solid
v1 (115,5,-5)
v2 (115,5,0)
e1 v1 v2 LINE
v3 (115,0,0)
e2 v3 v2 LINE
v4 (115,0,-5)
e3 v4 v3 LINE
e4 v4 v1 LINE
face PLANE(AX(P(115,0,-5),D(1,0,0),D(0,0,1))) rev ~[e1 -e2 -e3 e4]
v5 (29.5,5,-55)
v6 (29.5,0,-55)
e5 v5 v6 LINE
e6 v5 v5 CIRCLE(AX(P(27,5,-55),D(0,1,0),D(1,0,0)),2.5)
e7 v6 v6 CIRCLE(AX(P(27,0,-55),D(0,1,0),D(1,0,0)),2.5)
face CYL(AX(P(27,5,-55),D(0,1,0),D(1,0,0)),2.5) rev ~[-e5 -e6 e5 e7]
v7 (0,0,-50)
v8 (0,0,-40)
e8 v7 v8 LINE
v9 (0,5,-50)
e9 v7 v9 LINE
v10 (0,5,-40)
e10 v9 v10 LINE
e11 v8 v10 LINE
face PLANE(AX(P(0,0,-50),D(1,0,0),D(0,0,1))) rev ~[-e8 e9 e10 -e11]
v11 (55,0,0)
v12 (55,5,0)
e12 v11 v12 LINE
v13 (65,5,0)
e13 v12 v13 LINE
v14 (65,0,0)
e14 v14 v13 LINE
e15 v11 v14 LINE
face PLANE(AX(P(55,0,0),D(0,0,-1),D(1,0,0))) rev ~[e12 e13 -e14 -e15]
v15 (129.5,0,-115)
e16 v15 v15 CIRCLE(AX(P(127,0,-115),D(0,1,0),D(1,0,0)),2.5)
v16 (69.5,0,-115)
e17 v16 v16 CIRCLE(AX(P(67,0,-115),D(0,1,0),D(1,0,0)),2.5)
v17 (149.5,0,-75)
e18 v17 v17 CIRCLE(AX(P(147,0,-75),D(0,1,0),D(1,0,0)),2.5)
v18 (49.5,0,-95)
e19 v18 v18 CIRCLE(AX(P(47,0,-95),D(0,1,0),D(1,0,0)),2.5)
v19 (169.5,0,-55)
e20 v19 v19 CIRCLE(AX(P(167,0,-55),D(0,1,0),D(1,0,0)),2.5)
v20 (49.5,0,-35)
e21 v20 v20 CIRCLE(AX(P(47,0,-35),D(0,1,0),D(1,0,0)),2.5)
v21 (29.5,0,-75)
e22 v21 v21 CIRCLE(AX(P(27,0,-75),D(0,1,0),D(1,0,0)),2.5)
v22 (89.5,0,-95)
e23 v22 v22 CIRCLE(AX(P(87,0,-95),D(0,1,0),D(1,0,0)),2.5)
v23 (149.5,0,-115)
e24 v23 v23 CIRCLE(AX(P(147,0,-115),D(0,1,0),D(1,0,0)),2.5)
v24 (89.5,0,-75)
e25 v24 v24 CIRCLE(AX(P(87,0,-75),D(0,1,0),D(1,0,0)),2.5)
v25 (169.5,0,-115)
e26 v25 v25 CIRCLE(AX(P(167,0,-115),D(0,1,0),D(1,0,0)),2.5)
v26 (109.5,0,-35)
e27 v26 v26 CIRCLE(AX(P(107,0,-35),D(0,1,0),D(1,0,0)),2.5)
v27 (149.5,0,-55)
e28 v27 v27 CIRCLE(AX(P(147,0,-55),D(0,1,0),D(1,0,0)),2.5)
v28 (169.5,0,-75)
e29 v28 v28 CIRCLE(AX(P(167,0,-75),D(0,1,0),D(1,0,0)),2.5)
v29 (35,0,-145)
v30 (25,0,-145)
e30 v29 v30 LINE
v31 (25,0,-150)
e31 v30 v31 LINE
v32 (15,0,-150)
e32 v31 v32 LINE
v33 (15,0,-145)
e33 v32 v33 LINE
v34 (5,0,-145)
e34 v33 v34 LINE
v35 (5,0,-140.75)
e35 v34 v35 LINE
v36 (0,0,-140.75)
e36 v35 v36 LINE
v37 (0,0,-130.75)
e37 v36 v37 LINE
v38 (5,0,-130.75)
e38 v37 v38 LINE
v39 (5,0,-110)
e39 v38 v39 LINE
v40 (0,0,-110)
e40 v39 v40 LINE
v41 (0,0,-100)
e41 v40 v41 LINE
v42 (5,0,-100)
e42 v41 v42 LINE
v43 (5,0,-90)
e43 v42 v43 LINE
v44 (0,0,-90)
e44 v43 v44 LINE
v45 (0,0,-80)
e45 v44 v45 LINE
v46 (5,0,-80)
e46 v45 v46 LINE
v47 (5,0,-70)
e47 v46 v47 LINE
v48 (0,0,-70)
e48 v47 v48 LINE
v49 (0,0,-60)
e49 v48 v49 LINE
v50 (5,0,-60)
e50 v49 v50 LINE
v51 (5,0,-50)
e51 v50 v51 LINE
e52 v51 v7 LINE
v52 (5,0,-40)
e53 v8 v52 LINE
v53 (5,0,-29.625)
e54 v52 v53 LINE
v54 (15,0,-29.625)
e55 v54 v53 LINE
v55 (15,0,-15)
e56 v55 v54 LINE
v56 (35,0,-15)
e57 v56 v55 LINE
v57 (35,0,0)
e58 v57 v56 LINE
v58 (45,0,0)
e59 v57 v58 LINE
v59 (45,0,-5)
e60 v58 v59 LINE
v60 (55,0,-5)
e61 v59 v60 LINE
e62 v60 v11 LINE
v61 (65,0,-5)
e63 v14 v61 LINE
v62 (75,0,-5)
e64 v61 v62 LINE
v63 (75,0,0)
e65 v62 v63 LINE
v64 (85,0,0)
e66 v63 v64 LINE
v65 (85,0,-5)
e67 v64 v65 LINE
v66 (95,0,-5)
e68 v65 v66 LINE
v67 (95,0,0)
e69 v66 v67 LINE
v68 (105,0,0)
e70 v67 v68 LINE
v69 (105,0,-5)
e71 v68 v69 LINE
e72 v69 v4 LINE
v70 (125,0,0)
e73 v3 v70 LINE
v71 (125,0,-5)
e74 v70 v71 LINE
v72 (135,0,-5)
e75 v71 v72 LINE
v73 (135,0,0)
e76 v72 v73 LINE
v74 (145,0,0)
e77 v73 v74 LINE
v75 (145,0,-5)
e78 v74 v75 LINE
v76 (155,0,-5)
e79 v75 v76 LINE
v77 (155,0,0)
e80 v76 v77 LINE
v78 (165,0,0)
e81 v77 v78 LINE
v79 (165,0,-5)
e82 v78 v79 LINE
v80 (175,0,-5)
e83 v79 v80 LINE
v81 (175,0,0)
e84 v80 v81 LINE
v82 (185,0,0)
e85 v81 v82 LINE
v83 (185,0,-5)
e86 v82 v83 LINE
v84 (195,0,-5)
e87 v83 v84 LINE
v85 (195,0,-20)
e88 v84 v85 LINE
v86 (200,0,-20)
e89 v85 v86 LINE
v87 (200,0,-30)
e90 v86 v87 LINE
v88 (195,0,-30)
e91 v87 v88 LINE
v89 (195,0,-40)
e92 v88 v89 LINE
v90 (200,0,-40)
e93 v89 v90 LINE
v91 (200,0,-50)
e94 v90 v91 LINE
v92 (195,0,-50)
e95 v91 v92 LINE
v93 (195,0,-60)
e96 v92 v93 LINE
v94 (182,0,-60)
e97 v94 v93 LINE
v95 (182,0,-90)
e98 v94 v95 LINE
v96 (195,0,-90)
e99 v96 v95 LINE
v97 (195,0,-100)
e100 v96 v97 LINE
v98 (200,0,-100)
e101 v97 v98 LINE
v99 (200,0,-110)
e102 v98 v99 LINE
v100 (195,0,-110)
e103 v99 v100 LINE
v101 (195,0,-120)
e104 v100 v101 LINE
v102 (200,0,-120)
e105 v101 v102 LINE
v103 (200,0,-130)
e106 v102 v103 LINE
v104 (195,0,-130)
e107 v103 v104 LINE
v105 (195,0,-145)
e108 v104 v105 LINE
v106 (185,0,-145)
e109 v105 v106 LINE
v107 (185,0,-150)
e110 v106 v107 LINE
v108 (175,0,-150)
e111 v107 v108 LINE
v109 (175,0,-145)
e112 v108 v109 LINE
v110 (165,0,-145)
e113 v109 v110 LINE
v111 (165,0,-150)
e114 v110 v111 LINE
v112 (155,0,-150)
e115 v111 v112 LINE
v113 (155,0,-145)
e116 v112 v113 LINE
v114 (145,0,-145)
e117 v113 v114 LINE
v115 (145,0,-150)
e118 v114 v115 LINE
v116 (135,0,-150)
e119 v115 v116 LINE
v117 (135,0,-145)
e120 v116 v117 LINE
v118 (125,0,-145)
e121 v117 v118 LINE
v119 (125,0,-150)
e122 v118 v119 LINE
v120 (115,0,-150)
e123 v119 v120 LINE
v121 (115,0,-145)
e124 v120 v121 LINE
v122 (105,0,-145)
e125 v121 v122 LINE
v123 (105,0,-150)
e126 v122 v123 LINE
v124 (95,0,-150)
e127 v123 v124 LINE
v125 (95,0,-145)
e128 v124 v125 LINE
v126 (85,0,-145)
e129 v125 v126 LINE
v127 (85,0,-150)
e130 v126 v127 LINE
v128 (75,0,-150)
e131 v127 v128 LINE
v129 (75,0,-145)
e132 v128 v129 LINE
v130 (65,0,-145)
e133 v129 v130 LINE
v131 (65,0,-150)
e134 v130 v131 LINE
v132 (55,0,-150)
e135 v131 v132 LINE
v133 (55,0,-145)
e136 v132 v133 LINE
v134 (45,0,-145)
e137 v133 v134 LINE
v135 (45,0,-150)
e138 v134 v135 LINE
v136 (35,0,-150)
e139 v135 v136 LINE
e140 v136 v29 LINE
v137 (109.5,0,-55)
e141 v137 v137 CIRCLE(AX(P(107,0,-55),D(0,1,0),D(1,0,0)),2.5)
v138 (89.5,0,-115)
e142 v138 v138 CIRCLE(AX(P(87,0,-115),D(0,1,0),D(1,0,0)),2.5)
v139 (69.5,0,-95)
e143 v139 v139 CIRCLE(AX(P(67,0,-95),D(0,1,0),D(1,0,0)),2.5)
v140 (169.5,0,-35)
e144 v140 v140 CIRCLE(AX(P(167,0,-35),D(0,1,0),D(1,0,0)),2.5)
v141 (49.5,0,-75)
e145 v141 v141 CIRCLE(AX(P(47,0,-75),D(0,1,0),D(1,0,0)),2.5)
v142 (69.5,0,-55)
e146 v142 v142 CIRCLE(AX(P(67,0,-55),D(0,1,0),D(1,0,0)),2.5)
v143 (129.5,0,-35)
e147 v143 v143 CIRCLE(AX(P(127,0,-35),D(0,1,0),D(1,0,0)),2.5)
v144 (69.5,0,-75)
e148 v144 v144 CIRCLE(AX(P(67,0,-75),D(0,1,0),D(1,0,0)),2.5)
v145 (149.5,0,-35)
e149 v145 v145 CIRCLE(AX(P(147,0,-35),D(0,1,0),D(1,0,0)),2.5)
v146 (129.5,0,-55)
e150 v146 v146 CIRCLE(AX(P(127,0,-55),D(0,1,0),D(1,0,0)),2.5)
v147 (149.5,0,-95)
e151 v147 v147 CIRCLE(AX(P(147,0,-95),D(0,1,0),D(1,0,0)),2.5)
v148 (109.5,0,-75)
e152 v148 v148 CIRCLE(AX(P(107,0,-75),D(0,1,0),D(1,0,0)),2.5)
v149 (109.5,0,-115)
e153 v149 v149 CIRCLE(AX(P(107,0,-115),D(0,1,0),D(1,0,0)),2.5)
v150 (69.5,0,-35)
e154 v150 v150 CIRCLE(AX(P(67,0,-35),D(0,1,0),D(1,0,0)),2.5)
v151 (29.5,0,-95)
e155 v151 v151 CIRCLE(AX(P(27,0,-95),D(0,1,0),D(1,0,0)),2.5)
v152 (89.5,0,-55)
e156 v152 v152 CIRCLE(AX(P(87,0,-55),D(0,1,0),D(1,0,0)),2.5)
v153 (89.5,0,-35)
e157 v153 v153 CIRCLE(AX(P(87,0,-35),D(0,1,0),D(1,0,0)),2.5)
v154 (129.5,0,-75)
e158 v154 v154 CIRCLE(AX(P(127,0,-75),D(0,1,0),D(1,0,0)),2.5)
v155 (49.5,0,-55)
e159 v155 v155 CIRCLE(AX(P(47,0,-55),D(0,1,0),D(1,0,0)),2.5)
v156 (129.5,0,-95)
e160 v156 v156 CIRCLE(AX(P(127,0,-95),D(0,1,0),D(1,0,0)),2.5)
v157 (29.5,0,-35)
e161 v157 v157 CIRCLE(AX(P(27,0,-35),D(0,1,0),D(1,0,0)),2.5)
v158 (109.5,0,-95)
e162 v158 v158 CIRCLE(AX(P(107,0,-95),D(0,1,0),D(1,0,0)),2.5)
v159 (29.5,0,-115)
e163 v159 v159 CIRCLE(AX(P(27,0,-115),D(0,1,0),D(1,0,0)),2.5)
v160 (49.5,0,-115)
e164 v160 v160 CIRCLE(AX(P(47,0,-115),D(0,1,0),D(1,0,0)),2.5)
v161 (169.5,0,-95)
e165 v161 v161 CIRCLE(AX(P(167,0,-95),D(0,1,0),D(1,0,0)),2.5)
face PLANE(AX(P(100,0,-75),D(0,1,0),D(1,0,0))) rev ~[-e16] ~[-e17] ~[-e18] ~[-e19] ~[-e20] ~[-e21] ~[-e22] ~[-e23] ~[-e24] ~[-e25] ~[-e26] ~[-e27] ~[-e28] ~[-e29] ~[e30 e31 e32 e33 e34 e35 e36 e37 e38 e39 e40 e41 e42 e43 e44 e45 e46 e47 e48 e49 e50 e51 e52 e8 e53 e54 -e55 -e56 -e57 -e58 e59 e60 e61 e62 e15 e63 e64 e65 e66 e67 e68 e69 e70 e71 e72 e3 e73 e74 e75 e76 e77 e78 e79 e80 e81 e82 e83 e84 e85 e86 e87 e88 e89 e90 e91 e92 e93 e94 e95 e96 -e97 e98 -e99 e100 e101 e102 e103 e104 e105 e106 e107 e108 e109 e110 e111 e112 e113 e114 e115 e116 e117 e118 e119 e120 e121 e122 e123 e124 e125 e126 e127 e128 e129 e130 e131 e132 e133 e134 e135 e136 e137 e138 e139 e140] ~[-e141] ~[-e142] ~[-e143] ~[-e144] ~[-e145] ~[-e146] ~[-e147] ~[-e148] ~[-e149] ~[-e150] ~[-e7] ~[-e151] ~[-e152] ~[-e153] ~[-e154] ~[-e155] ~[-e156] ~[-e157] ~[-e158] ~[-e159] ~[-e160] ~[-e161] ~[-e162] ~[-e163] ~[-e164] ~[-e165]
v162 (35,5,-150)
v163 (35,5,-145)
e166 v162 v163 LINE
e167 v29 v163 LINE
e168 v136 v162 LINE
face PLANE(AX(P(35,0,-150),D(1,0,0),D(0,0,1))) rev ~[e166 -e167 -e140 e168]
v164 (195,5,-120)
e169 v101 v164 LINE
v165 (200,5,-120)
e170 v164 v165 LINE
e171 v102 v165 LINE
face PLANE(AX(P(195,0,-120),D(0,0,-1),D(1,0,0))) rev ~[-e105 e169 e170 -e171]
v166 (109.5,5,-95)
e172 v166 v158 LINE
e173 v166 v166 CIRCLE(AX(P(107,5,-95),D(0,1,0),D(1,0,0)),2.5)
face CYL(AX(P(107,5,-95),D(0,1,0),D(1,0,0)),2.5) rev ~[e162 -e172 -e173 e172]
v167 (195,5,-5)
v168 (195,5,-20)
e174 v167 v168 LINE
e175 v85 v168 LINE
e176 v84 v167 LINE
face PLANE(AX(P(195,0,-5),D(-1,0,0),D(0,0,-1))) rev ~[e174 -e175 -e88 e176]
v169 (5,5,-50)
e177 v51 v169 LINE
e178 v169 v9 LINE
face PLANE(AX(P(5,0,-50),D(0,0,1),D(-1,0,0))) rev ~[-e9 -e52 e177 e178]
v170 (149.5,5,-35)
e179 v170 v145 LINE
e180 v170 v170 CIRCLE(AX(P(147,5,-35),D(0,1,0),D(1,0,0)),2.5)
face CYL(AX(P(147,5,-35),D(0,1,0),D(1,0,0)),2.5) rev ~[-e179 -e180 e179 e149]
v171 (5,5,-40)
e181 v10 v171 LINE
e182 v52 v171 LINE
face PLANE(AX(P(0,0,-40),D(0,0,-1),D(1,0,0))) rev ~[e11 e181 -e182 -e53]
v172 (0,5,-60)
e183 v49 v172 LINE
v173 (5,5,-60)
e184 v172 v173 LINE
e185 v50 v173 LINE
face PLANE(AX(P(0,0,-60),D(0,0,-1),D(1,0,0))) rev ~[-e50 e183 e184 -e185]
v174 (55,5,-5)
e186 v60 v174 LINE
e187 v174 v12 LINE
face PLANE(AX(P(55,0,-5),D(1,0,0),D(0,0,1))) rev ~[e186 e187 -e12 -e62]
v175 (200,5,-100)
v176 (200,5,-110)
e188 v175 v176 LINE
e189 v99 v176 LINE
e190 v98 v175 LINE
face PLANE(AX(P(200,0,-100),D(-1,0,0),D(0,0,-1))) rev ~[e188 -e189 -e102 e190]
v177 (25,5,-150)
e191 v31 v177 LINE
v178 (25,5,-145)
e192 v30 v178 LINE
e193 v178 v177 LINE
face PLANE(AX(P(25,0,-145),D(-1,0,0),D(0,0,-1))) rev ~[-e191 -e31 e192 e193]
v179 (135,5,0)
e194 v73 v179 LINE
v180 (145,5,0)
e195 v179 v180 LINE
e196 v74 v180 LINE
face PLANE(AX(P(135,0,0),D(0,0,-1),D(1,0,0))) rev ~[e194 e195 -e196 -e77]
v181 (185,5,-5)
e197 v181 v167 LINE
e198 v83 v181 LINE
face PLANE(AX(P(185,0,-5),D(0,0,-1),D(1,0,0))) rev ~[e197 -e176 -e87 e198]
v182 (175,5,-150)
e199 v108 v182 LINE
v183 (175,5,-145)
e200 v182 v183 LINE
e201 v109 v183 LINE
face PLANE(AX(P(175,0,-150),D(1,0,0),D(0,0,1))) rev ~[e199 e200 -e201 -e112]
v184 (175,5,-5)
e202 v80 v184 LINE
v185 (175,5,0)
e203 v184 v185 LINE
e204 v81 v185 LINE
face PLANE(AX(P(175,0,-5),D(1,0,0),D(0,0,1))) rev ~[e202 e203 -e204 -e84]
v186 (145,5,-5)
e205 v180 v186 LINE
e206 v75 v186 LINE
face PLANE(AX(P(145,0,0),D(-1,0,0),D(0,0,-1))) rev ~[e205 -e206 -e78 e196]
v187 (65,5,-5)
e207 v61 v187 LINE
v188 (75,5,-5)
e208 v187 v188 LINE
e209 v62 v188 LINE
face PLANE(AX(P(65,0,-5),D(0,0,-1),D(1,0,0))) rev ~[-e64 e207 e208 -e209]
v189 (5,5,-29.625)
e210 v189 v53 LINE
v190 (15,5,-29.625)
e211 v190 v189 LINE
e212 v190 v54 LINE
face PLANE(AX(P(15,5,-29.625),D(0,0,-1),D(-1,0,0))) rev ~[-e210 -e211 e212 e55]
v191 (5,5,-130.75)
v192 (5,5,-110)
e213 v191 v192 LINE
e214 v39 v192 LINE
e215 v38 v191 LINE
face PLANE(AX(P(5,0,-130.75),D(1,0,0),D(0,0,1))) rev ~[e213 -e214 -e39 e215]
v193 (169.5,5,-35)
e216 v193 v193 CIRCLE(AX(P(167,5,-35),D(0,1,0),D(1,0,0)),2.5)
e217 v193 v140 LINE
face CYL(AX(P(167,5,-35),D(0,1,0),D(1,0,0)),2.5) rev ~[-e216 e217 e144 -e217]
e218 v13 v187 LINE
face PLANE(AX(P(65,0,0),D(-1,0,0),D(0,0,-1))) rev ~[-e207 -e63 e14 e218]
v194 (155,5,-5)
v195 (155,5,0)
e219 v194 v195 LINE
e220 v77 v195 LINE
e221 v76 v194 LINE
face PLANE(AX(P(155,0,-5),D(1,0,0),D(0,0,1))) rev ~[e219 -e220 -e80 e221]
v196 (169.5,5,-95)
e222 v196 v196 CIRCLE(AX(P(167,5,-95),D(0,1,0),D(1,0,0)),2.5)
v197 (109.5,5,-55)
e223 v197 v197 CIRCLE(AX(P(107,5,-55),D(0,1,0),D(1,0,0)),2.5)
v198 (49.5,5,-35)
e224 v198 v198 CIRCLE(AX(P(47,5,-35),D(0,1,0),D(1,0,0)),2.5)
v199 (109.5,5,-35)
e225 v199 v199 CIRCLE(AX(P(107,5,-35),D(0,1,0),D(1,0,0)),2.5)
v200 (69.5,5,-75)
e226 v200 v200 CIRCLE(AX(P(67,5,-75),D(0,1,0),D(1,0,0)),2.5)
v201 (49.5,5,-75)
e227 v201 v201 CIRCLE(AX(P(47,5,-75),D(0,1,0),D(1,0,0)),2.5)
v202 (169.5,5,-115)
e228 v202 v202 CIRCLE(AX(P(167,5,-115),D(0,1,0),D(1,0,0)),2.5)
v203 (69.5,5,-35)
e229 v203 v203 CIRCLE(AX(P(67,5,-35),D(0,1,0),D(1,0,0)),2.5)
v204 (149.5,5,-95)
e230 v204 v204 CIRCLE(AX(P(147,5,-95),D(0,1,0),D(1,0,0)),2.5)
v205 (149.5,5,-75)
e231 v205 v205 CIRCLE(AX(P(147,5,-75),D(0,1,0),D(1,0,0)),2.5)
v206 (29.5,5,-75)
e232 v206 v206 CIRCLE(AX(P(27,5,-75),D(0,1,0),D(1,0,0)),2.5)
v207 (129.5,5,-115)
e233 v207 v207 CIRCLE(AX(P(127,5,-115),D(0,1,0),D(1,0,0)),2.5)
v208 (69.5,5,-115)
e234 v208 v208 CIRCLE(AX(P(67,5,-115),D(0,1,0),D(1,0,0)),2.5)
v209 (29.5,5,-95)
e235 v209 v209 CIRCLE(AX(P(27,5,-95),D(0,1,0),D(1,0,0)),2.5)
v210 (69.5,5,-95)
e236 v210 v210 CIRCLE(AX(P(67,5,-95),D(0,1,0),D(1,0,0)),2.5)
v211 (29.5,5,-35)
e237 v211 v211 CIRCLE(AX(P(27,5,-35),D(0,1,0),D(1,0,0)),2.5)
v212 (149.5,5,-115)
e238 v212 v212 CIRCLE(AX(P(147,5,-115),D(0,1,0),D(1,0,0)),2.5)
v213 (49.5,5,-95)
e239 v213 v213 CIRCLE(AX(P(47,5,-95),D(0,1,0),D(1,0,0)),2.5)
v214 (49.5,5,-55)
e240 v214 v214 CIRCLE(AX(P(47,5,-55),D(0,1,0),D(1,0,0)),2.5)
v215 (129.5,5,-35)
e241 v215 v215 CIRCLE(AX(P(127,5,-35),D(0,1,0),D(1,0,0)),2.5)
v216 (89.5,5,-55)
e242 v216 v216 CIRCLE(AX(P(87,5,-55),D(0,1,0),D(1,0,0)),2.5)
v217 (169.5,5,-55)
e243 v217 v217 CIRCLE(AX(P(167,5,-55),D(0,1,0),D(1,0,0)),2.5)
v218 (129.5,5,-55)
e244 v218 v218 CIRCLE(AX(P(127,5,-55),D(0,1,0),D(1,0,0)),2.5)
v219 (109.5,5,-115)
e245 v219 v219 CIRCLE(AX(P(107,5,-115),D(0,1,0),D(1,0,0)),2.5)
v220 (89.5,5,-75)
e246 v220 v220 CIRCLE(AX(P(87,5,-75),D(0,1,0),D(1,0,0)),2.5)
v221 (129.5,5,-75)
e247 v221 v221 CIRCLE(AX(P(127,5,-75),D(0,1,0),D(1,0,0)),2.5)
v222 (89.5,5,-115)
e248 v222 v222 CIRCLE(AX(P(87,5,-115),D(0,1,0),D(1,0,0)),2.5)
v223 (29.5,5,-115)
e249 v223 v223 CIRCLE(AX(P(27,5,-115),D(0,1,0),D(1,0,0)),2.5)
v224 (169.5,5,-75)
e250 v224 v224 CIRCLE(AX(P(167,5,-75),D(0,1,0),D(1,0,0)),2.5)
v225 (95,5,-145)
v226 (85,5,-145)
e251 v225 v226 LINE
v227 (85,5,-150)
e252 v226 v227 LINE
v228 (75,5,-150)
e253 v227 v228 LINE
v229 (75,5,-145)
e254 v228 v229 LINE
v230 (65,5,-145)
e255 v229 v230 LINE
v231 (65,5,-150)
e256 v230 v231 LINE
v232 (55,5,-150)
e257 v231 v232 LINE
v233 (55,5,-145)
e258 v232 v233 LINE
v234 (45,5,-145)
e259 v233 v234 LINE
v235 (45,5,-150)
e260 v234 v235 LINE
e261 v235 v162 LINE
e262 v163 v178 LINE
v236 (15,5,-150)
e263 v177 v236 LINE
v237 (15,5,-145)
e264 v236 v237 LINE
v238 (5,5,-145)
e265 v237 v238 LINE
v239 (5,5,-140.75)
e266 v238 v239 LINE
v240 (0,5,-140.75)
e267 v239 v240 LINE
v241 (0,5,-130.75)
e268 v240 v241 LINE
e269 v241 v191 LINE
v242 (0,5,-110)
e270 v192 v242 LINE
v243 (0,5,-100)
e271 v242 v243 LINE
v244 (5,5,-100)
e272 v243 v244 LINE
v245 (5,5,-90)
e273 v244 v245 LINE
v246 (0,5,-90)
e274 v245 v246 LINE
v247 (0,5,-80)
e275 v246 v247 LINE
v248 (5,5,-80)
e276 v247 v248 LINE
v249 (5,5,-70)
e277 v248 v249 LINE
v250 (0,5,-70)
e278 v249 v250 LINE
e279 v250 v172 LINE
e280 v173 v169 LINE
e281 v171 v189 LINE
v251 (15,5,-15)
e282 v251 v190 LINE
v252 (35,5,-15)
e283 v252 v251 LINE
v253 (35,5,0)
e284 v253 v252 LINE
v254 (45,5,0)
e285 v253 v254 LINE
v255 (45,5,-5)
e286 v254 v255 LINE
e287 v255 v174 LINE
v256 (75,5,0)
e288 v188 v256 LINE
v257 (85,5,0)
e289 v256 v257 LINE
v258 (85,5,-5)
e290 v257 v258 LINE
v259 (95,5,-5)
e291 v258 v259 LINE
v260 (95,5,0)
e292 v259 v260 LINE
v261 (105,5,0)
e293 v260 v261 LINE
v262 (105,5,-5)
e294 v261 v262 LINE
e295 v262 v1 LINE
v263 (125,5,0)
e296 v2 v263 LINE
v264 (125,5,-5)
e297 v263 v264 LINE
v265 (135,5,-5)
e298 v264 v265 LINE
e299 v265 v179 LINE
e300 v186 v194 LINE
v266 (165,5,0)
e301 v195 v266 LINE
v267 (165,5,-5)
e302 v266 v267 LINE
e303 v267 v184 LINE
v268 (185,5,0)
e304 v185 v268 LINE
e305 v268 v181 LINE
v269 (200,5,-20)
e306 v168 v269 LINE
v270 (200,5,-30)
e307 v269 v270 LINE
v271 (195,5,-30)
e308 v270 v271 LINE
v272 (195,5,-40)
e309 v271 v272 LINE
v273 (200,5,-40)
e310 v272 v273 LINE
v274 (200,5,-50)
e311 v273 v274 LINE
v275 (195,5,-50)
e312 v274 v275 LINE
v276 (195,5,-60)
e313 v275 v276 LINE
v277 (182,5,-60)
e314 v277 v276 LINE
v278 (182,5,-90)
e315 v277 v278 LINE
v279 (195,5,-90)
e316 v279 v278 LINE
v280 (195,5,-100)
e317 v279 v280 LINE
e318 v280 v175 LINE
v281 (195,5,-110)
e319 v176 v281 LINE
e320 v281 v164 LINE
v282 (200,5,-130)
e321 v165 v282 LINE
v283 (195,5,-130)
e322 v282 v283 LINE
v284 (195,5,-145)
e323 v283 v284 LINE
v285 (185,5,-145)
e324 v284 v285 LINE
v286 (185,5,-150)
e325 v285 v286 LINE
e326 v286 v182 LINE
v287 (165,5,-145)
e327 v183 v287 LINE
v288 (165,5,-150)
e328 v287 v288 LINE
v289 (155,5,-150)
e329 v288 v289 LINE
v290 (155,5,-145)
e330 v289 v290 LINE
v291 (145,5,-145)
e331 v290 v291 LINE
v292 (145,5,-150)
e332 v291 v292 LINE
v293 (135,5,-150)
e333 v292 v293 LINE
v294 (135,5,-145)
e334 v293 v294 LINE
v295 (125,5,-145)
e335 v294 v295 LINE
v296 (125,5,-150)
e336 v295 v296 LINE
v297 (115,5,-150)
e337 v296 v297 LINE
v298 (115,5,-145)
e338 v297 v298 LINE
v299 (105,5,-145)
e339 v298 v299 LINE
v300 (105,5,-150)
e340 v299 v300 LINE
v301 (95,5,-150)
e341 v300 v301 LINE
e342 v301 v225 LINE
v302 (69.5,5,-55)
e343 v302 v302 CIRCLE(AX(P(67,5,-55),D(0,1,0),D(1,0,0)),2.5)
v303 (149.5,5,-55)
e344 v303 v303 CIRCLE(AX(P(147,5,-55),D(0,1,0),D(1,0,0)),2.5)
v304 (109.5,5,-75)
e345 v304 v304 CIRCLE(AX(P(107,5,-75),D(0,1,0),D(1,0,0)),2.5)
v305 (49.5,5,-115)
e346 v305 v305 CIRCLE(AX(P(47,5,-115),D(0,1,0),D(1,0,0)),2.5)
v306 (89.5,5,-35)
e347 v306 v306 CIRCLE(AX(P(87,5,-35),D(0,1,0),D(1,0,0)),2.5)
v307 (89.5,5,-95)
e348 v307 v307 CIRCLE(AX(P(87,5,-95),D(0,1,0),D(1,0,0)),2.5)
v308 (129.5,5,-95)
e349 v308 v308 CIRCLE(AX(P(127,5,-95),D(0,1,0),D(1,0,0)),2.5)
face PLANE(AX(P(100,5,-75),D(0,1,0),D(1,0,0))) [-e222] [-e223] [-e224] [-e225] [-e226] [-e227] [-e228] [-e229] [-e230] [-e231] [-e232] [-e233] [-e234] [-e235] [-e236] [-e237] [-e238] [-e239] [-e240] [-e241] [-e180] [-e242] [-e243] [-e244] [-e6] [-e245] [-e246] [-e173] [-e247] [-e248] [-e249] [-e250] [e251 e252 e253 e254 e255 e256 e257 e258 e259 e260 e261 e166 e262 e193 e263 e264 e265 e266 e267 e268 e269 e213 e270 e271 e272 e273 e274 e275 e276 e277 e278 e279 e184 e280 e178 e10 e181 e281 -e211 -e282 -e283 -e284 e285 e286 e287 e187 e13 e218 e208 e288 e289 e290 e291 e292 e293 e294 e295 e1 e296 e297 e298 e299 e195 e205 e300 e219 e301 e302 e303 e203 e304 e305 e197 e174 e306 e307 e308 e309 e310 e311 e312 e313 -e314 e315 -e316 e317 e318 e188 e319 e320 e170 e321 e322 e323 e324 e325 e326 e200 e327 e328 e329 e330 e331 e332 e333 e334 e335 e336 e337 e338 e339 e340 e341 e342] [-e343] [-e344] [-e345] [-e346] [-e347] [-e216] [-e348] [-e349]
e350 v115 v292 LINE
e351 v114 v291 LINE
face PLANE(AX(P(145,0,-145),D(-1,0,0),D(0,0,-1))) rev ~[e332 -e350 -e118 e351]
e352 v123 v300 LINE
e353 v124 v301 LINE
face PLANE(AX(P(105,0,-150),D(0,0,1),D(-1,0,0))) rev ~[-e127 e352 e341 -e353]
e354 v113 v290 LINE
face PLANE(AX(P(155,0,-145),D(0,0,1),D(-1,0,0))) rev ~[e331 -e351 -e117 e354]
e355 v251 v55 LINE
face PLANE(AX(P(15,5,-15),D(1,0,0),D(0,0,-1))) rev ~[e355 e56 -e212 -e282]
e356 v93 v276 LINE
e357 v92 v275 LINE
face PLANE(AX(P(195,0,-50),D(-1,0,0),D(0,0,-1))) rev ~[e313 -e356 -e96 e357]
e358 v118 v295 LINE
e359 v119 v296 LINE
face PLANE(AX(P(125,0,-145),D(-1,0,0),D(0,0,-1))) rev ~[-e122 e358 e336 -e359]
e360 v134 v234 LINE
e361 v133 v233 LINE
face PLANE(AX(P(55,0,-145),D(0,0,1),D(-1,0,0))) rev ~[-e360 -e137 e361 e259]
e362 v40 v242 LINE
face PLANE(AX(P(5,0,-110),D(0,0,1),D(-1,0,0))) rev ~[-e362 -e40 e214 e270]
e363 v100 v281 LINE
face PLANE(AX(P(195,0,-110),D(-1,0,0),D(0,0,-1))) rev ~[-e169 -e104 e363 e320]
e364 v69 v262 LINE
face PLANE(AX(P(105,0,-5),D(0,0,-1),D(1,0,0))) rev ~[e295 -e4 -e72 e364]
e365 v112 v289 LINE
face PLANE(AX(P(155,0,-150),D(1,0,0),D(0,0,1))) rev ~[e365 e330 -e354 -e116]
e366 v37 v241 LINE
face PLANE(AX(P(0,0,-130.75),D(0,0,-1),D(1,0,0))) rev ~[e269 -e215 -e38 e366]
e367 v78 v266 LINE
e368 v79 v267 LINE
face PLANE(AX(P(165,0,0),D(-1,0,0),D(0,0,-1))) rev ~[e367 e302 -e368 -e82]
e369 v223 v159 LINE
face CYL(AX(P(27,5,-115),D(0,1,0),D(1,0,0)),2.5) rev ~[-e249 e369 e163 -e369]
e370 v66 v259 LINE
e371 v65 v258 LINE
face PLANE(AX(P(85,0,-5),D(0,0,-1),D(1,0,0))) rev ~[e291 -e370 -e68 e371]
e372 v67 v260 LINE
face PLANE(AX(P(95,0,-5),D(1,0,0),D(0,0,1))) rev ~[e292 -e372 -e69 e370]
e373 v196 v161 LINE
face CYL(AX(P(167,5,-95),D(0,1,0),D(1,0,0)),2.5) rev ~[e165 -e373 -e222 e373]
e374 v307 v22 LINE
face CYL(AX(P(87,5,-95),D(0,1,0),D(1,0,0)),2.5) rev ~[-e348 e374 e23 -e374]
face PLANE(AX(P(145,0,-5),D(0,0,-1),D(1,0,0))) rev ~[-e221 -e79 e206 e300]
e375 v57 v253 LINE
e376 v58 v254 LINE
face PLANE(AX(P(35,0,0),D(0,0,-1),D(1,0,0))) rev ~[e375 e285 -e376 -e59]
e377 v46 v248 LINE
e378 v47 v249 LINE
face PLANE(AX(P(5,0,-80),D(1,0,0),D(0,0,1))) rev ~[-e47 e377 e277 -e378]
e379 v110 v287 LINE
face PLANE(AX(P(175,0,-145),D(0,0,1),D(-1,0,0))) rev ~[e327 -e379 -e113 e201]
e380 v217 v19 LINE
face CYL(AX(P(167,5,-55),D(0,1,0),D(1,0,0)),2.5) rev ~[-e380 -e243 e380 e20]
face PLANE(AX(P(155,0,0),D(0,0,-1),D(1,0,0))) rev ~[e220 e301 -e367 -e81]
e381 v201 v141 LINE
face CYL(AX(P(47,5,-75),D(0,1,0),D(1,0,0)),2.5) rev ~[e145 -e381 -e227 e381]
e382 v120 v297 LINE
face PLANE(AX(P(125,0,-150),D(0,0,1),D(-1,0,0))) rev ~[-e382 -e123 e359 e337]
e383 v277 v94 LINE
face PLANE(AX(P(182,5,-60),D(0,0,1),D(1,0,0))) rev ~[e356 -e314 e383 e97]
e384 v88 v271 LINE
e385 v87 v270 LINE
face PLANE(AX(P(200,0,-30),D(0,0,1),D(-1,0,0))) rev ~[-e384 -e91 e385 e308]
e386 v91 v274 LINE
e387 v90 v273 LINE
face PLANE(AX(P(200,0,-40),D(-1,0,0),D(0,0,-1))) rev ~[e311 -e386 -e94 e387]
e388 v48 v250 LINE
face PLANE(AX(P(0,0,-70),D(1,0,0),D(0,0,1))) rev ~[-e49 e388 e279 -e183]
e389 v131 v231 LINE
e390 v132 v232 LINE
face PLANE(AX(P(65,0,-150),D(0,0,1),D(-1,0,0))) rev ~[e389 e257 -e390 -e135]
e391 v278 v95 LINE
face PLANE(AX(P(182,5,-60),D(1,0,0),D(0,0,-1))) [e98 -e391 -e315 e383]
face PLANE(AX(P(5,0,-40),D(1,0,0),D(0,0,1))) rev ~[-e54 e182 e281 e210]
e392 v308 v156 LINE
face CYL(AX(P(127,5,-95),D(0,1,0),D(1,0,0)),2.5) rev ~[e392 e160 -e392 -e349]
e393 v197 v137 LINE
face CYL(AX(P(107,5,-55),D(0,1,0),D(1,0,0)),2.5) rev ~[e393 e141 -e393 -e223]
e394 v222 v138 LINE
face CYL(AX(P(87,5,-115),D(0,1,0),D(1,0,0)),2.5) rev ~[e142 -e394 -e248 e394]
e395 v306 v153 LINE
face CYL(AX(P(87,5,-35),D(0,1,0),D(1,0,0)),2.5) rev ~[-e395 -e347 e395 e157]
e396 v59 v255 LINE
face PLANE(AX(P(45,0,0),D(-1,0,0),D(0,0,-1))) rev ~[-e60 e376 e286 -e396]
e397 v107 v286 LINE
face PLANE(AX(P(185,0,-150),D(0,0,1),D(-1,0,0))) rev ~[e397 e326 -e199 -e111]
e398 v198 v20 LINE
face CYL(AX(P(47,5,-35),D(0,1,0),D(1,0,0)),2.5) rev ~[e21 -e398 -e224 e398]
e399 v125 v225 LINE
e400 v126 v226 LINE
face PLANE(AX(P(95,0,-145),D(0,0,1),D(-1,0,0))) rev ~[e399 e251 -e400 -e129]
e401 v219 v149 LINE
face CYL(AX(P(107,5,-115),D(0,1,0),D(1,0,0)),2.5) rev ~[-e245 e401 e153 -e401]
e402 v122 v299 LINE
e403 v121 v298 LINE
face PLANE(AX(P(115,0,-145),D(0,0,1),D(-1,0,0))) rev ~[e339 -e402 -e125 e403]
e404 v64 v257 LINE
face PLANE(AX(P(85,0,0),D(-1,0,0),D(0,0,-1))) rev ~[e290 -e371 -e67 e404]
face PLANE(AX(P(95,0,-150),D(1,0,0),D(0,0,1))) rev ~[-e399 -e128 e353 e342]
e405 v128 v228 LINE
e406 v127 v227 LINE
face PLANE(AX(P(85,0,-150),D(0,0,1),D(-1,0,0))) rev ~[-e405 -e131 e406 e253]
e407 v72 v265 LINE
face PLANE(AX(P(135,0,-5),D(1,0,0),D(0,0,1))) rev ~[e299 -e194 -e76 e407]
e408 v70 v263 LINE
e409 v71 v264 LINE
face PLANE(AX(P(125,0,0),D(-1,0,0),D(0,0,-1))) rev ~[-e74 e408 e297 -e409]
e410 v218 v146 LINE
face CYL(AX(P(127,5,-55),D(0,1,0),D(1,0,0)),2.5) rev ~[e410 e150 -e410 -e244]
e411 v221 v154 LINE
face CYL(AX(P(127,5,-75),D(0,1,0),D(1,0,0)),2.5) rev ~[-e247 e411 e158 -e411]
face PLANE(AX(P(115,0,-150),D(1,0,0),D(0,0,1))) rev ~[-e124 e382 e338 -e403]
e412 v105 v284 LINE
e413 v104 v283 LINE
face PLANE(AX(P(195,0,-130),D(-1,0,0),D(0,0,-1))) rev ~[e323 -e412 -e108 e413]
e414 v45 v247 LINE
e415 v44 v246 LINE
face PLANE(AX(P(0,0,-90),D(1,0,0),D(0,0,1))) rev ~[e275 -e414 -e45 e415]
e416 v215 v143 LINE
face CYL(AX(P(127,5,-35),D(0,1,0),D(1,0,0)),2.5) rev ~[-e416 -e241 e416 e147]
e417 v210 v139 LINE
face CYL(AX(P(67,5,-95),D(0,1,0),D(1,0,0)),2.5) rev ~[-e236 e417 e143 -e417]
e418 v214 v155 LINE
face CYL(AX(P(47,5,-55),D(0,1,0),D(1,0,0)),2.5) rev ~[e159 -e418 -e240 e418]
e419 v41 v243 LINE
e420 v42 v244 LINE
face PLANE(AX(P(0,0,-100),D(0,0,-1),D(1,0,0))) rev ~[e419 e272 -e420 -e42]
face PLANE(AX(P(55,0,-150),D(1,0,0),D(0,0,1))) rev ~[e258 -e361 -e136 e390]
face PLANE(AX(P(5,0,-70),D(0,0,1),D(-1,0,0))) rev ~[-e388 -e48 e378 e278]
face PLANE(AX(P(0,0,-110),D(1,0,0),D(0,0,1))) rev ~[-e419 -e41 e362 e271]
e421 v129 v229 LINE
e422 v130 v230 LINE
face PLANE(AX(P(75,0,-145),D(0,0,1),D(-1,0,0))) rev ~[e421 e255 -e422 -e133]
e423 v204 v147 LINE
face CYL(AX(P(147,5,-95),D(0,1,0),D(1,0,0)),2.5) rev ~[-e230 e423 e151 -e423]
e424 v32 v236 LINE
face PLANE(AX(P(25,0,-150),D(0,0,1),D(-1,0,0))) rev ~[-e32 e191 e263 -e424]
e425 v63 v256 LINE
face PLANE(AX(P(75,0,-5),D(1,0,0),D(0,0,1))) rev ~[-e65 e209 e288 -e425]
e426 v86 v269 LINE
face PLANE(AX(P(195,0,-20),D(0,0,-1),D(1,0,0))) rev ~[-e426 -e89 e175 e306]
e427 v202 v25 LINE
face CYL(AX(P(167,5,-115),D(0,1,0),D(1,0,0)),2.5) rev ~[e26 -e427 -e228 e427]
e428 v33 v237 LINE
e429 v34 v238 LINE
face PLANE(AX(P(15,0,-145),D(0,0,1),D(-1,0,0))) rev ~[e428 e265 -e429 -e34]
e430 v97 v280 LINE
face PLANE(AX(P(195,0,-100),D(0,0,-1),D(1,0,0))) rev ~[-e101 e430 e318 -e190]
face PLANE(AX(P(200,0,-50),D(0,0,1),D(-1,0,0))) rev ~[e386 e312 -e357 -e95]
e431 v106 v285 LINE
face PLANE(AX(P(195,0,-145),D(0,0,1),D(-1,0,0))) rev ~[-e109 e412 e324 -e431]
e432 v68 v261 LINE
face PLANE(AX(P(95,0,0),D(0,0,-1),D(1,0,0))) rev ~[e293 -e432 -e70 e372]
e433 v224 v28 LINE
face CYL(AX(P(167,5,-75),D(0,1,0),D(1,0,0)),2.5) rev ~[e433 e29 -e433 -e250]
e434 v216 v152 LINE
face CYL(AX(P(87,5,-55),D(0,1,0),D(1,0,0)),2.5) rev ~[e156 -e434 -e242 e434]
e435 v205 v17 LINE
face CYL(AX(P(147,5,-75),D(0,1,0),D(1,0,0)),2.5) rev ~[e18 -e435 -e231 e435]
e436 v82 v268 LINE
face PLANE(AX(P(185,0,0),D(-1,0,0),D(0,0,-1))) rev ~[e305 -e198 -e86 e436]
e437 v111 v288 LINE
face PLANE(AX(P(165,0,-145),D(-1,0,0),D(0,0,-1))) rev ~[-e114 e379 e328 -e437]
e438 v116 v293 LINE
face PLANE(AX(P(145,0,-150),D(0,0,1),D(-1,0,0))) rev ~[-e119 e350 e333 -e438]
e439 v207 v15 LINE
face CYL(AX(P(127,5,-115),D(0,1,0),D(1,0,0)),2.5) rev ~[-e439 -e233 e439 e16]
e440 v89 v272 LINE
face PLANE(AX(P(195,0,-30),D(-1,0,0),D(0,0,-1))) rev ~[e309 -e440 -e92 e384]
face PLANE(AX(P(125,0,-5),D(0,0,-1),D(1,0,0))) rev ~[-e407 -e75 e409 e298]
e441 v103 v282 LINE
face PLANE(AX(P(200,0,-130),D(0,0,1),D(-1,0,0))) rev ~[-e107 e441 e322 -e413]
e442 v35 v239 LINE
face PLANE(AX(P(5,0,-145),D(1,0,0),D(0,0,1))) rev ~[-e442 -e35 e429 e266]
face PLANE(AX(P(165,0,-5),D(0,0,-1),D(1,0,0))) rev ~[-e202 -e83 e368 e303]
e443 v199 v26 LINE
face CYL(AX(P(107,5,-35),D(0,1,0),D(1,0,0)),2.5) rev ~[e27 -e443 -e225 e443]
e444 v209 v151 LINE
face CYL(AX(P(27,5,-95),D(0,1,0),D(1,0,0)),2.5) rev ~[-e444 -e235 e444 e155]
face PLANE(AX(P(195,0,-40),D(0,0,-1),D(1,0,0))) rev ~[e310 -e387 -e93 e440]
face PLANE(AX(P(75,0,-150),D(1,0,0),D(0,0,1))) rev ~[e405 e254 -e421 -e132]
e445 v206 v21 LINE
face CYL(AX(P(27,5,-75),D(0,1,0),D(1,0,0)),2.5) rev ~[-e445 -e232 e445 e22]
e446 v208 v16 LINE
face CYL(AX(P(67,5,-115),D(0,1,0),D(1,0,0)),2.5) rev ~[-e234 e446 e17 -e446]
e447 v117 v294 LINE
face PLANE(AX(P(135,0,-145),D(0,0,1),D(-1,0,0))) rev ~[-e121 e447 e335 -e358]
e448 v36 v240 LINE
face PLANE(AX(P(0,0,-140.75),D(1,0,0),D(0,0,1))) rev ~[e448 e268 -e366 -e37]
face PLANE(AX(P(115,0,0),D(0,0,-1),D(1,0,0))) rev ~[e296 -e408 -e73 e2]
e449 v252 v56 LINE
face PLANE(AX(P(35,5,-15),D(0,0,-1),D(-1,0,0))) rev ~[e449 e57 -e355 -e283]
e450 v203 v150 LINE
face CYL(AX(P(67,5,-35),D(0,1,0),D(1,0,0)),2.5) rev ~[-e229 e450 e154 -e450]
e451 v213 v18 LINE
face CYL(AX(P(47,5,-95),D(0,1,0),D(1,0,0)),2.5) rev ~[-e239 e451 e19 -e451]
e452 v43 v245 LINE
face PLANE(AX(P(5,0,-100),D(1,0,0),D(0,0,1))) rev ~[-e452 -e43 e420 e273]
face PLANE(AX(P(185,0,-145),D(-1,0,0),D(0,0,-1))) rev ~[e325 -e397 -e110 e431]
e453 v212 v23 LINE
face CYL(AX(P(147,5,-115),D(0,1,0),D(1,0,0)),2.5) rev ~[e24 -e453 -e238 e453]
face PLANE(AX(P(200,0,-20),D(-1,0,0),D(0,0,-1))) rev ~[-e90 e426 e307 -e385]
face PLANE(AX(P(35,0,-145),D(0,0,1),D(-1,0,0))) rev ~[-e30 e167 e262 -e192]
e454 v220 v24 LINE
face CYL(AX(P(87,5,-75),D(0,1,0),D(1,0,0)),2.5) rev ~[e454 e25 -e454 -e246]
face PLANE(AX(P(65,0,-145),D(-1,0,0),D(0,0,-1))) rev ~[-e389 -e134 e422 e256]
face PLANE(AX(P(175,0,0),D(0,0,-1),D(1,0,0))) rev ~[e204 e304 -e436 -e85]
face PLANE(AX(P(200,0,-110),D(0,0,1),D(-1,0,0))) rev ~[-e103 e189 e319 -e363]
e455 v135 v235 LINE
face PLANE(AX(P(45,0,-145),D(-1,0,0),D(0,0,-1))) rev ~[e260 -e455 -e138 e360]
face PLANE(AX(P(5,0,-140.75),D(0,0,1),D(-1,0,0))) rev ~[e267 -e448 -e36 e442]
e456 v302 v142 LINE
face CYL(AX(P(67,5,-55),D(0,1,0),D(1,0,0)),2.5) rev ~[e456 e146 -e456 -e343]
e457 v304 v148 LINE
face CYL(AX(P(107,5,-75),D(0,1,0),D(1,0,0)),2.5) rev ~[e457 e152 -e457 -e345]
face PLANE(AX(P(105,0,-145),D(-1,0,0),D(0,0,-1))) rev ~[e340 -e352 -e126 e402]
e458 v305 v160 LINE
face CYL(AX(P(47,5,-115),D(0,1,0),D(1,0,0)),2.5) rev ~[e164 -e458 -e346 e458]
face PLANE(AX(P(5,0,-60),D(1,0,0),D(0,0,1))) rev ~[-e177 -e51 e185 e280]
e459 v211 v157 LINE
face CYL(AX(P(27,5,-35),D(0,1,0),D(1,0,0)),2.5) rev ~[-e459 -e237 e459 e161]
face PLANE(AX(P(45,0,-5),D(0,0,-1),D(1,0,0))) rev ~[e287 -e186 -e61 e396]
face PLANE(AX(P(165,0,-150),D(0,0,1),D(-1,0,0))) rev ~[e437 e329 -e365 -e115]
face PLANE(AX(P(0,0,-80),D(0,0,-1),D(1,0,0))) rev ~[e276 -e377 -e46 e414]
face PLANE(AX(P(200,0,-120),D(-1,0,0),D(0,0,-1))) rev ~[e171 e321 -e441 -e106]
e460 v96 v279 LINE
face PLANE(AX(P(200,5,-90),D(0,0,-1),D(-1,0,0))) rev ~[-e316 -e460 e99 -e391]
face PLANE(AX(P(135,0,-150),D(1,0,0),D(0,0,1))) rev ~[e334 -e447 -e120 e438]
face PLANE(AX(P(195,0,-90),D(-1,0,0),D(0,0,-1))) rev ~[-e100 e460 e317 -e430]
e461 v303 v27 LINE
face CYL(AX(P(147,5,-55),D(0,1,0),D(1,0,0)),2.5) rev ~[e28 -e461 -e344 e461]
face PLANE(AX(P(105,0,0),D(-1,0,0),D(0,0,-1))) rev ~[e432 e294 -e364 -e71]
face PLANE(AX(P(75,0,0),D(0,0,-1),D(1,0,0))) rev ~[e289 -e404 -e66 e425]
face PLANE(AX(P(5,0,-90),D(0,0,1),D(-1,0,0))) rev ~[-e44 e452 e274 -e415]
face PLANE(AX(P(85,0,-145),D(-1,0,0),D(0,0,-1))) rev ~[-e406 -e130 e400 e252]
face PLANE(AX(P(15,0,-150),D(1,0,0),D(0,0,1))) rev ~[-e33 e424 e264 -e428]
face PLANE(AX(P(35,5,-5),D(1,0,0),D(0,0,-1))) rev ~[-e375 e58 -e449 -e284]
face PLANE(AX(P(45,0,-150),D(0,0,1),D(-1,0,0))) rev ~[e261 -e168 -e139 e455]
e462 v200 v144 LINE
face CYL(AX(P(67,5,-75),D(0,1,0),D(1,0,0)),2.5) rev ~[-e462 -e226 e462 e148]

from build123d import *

# Parameters (mm, degrees)
SALIENTE_EXTRUIR1_DEPTH = 5
CROQUIS2_R              = 2.5
CORTAR_EXTRUIR1_DEPTH   = 10


with BuildPart() as part:
    # Croquis1 → Saliente-Extruir1 (new body)
    with BuildSketch(Plane(origin=(0, 0, 0), x_dir=(1, 0, 0), z_dir=(0, 1, 0))):
        Polygon((15, 5), (15, 0), (25, 0), (25, 5), (35, 5), (35, 0), (45, 0), (45, 5), (55, 5), (55, 0), (65, 0), (65, 5), (75, 5), (75, 0), (85, 0), (85, 5), (95, 5), (95, 0), (105, 0), (105, 5), (115, 5), (115, 0), (125, 0), (125, 5), (135, 5), (135, 0), (145, 0), (145, 5), (155, 5), (155, 0), (165, 0), (165, 5), (175, 5), (175, 0), (185, 0), (185, 5), (195, 5), (195, 20), (200, 20), (200, 30), (195, 30), (195, 40), (200, 40), (200, 50), (195, 50), (195, 60), (200, 60), (200, 70), (195, 70), (195, 80), (200, 80), (200, 90), (195, 90), (195, 100), (200, 100), (200, 110), (195, 110), (195, 120), (200, 120), (200, 130), (195, 130), (195, 145), (185, 145), (185, 150), (175, 150), (175, 145), (165, 145), (165, 150), (155, 150), (155, 145), (145, 145), (145, 150), (135, 150), (135, 145), (125, 145), (125, 150), (115, 150), (115, 145), (105, 145), (105, 150), (95, 150), (95, 145), (85, 145), (85, 150), (75, 150), (75, 145), (65, 145), (65, 150), (55, 150), (55, 145), (45, 145), (45, 150), (35, 150), (35, 145), (25, 145), (25, 150), (15, 150), (15, 145), (5, 145), (5, 140.75), (0, 140.75), (0, 130.75), (5, 130.75), (5, 110), (0, 110), (0, 100), (5, 100), (5, 90), (0, 90), (0, 80), (5, 80), (5, 70), (0, 70), (0, 60), (5, 60), (5, 50), (0, 50), (0, 40), (5, 40), (5, 19.25), (0, 19.25), (0, 9.25), (5, 9.25), (5, 5), align=None)
    extrude(amount=SALIENTE_EXTRUIR1_DEPTH)

    # Croquis2 → Cortar-Extruir1 (cut)
    with BuildSketch(Plane(origin=(0, 5, 0), x_dir=(1, 0, 0), z_dir=(0, 1, 0))):
        with Locations((27, 115)):
            Circle(CROQUIS2_R)
        with Locations((47, 115)):
            Circle(CROQUIS2_R)
        with Locations((67, 115)):
            Circle(CROQUIS2_R)
        with Locations((87, 115)):
            Circle(CROQUIS2_R)
        with Locations((107, 115)):
            Circle(CROQUIS2_R)
        with Locations((127, 115)):
            Circle(CROQUIS2_R)
        with Locations((147, 115)):
            Circle(CROQUIS2_R)
        with Locations((167, 115)):
            Circle(CROQUIS2_R)
        with Locations((47, 95)):
            Circle(CROQUIS2_R)
        with Locations((67, 95)):
            Circle(CROQUIS2_R)
        with Locations((87, 95)):
            Circle(CROQUIS2_R)
        with Locations((107, 95)):
            Circle(CROQUIS2_R)
        with Locations((127, 95)):
            Circle(CROQUIS2_R)
        with Locations((147, 95)):
            Circle(CROQUIS2_R)
        with Locations((167, 95)):
            Circle(CROQUIS2_R)
        with Locations((47, 75)):
            Circle(CROQUIS2_R)
        with Locations((67, 75)):
            Circle(CROQUIS2_R)
        with Locations((87, 75)):
            Circle(CROQUIS2_R)
        with Locations((107, 75)):
            Circle(CROQUIS2_R)
        with Locations((127, 75)):
            Circle(CROQUIS2_R)
        with Locations((147, 75)):
            Circle(CROQUIS2_R)
        with Locations((167, 75)):
            Circle(CROQUIS2_R)
        with Locations((47, 55)):
            Circle(CROQUIS2_R)
        with Locations((67, 55)):
            Circle(CROQUIS2_R)
        with Locations((87, 55)):
            Circle(CROQUIS2_R)
        with Locations((107, 55)):
            Circle(CROQUIS2_R)
        with Locations((127, 55)):
            Circle(CROQUIS2_R)
        with Locations((147, 55)):
            Circle(CROQUIS2_R)
        with Locations((167, 55)):
            Circle(CROQUIS2_R)
        with Locations((47, 35)):
            Circle(CROQUIS2_R)
        with Locations((67, 35)):
            Circle(CROQUIS2_R)
        with Locations((87, 35)):
            Circle(CROQUIS2_R)
        with Locations((107, 35)):
            Circle(CROQUIS2_R)
        with Locations((127, 35)):
            Circle(CROQUIS2_R)
        with Locations((147, 35)):
            Circle(CROQUIS2_R)
        with Locations((167, 35)):
            Circle(CROQUIS2_R)
        with Locations((27, 95)):
            Circle(CROQUIS2_R)
        with Locations((27, 75)):
            Circle(CROQUIS2_R)
        with Locations((27, 55)):
            Circle(CROQUIS2_R)
        with Locations((27, 35)):
            Circle(CROQUIS2_R)
        Polygon((5, 29.625), (5, 19.25), (0, 19.25), (0, 9.25), (5, 9.25), (5, 5), (15, 5), (15, 0), (25, 0), (25, 5), (35, 5), (35, 15), (15, 15), (15, 29.625), align=None)
        Polygon((195, 90), (200, 90), (200, 80), (195, 80), (195, 70), (200, 70), (200, 60), (195, 60), (182, 60), (182, 90), align=None)
    extrude(amount=-CORTAR_EXTRUIR1_DEPTH, mode=Mode.SUBTRACT)


solid = part.part
